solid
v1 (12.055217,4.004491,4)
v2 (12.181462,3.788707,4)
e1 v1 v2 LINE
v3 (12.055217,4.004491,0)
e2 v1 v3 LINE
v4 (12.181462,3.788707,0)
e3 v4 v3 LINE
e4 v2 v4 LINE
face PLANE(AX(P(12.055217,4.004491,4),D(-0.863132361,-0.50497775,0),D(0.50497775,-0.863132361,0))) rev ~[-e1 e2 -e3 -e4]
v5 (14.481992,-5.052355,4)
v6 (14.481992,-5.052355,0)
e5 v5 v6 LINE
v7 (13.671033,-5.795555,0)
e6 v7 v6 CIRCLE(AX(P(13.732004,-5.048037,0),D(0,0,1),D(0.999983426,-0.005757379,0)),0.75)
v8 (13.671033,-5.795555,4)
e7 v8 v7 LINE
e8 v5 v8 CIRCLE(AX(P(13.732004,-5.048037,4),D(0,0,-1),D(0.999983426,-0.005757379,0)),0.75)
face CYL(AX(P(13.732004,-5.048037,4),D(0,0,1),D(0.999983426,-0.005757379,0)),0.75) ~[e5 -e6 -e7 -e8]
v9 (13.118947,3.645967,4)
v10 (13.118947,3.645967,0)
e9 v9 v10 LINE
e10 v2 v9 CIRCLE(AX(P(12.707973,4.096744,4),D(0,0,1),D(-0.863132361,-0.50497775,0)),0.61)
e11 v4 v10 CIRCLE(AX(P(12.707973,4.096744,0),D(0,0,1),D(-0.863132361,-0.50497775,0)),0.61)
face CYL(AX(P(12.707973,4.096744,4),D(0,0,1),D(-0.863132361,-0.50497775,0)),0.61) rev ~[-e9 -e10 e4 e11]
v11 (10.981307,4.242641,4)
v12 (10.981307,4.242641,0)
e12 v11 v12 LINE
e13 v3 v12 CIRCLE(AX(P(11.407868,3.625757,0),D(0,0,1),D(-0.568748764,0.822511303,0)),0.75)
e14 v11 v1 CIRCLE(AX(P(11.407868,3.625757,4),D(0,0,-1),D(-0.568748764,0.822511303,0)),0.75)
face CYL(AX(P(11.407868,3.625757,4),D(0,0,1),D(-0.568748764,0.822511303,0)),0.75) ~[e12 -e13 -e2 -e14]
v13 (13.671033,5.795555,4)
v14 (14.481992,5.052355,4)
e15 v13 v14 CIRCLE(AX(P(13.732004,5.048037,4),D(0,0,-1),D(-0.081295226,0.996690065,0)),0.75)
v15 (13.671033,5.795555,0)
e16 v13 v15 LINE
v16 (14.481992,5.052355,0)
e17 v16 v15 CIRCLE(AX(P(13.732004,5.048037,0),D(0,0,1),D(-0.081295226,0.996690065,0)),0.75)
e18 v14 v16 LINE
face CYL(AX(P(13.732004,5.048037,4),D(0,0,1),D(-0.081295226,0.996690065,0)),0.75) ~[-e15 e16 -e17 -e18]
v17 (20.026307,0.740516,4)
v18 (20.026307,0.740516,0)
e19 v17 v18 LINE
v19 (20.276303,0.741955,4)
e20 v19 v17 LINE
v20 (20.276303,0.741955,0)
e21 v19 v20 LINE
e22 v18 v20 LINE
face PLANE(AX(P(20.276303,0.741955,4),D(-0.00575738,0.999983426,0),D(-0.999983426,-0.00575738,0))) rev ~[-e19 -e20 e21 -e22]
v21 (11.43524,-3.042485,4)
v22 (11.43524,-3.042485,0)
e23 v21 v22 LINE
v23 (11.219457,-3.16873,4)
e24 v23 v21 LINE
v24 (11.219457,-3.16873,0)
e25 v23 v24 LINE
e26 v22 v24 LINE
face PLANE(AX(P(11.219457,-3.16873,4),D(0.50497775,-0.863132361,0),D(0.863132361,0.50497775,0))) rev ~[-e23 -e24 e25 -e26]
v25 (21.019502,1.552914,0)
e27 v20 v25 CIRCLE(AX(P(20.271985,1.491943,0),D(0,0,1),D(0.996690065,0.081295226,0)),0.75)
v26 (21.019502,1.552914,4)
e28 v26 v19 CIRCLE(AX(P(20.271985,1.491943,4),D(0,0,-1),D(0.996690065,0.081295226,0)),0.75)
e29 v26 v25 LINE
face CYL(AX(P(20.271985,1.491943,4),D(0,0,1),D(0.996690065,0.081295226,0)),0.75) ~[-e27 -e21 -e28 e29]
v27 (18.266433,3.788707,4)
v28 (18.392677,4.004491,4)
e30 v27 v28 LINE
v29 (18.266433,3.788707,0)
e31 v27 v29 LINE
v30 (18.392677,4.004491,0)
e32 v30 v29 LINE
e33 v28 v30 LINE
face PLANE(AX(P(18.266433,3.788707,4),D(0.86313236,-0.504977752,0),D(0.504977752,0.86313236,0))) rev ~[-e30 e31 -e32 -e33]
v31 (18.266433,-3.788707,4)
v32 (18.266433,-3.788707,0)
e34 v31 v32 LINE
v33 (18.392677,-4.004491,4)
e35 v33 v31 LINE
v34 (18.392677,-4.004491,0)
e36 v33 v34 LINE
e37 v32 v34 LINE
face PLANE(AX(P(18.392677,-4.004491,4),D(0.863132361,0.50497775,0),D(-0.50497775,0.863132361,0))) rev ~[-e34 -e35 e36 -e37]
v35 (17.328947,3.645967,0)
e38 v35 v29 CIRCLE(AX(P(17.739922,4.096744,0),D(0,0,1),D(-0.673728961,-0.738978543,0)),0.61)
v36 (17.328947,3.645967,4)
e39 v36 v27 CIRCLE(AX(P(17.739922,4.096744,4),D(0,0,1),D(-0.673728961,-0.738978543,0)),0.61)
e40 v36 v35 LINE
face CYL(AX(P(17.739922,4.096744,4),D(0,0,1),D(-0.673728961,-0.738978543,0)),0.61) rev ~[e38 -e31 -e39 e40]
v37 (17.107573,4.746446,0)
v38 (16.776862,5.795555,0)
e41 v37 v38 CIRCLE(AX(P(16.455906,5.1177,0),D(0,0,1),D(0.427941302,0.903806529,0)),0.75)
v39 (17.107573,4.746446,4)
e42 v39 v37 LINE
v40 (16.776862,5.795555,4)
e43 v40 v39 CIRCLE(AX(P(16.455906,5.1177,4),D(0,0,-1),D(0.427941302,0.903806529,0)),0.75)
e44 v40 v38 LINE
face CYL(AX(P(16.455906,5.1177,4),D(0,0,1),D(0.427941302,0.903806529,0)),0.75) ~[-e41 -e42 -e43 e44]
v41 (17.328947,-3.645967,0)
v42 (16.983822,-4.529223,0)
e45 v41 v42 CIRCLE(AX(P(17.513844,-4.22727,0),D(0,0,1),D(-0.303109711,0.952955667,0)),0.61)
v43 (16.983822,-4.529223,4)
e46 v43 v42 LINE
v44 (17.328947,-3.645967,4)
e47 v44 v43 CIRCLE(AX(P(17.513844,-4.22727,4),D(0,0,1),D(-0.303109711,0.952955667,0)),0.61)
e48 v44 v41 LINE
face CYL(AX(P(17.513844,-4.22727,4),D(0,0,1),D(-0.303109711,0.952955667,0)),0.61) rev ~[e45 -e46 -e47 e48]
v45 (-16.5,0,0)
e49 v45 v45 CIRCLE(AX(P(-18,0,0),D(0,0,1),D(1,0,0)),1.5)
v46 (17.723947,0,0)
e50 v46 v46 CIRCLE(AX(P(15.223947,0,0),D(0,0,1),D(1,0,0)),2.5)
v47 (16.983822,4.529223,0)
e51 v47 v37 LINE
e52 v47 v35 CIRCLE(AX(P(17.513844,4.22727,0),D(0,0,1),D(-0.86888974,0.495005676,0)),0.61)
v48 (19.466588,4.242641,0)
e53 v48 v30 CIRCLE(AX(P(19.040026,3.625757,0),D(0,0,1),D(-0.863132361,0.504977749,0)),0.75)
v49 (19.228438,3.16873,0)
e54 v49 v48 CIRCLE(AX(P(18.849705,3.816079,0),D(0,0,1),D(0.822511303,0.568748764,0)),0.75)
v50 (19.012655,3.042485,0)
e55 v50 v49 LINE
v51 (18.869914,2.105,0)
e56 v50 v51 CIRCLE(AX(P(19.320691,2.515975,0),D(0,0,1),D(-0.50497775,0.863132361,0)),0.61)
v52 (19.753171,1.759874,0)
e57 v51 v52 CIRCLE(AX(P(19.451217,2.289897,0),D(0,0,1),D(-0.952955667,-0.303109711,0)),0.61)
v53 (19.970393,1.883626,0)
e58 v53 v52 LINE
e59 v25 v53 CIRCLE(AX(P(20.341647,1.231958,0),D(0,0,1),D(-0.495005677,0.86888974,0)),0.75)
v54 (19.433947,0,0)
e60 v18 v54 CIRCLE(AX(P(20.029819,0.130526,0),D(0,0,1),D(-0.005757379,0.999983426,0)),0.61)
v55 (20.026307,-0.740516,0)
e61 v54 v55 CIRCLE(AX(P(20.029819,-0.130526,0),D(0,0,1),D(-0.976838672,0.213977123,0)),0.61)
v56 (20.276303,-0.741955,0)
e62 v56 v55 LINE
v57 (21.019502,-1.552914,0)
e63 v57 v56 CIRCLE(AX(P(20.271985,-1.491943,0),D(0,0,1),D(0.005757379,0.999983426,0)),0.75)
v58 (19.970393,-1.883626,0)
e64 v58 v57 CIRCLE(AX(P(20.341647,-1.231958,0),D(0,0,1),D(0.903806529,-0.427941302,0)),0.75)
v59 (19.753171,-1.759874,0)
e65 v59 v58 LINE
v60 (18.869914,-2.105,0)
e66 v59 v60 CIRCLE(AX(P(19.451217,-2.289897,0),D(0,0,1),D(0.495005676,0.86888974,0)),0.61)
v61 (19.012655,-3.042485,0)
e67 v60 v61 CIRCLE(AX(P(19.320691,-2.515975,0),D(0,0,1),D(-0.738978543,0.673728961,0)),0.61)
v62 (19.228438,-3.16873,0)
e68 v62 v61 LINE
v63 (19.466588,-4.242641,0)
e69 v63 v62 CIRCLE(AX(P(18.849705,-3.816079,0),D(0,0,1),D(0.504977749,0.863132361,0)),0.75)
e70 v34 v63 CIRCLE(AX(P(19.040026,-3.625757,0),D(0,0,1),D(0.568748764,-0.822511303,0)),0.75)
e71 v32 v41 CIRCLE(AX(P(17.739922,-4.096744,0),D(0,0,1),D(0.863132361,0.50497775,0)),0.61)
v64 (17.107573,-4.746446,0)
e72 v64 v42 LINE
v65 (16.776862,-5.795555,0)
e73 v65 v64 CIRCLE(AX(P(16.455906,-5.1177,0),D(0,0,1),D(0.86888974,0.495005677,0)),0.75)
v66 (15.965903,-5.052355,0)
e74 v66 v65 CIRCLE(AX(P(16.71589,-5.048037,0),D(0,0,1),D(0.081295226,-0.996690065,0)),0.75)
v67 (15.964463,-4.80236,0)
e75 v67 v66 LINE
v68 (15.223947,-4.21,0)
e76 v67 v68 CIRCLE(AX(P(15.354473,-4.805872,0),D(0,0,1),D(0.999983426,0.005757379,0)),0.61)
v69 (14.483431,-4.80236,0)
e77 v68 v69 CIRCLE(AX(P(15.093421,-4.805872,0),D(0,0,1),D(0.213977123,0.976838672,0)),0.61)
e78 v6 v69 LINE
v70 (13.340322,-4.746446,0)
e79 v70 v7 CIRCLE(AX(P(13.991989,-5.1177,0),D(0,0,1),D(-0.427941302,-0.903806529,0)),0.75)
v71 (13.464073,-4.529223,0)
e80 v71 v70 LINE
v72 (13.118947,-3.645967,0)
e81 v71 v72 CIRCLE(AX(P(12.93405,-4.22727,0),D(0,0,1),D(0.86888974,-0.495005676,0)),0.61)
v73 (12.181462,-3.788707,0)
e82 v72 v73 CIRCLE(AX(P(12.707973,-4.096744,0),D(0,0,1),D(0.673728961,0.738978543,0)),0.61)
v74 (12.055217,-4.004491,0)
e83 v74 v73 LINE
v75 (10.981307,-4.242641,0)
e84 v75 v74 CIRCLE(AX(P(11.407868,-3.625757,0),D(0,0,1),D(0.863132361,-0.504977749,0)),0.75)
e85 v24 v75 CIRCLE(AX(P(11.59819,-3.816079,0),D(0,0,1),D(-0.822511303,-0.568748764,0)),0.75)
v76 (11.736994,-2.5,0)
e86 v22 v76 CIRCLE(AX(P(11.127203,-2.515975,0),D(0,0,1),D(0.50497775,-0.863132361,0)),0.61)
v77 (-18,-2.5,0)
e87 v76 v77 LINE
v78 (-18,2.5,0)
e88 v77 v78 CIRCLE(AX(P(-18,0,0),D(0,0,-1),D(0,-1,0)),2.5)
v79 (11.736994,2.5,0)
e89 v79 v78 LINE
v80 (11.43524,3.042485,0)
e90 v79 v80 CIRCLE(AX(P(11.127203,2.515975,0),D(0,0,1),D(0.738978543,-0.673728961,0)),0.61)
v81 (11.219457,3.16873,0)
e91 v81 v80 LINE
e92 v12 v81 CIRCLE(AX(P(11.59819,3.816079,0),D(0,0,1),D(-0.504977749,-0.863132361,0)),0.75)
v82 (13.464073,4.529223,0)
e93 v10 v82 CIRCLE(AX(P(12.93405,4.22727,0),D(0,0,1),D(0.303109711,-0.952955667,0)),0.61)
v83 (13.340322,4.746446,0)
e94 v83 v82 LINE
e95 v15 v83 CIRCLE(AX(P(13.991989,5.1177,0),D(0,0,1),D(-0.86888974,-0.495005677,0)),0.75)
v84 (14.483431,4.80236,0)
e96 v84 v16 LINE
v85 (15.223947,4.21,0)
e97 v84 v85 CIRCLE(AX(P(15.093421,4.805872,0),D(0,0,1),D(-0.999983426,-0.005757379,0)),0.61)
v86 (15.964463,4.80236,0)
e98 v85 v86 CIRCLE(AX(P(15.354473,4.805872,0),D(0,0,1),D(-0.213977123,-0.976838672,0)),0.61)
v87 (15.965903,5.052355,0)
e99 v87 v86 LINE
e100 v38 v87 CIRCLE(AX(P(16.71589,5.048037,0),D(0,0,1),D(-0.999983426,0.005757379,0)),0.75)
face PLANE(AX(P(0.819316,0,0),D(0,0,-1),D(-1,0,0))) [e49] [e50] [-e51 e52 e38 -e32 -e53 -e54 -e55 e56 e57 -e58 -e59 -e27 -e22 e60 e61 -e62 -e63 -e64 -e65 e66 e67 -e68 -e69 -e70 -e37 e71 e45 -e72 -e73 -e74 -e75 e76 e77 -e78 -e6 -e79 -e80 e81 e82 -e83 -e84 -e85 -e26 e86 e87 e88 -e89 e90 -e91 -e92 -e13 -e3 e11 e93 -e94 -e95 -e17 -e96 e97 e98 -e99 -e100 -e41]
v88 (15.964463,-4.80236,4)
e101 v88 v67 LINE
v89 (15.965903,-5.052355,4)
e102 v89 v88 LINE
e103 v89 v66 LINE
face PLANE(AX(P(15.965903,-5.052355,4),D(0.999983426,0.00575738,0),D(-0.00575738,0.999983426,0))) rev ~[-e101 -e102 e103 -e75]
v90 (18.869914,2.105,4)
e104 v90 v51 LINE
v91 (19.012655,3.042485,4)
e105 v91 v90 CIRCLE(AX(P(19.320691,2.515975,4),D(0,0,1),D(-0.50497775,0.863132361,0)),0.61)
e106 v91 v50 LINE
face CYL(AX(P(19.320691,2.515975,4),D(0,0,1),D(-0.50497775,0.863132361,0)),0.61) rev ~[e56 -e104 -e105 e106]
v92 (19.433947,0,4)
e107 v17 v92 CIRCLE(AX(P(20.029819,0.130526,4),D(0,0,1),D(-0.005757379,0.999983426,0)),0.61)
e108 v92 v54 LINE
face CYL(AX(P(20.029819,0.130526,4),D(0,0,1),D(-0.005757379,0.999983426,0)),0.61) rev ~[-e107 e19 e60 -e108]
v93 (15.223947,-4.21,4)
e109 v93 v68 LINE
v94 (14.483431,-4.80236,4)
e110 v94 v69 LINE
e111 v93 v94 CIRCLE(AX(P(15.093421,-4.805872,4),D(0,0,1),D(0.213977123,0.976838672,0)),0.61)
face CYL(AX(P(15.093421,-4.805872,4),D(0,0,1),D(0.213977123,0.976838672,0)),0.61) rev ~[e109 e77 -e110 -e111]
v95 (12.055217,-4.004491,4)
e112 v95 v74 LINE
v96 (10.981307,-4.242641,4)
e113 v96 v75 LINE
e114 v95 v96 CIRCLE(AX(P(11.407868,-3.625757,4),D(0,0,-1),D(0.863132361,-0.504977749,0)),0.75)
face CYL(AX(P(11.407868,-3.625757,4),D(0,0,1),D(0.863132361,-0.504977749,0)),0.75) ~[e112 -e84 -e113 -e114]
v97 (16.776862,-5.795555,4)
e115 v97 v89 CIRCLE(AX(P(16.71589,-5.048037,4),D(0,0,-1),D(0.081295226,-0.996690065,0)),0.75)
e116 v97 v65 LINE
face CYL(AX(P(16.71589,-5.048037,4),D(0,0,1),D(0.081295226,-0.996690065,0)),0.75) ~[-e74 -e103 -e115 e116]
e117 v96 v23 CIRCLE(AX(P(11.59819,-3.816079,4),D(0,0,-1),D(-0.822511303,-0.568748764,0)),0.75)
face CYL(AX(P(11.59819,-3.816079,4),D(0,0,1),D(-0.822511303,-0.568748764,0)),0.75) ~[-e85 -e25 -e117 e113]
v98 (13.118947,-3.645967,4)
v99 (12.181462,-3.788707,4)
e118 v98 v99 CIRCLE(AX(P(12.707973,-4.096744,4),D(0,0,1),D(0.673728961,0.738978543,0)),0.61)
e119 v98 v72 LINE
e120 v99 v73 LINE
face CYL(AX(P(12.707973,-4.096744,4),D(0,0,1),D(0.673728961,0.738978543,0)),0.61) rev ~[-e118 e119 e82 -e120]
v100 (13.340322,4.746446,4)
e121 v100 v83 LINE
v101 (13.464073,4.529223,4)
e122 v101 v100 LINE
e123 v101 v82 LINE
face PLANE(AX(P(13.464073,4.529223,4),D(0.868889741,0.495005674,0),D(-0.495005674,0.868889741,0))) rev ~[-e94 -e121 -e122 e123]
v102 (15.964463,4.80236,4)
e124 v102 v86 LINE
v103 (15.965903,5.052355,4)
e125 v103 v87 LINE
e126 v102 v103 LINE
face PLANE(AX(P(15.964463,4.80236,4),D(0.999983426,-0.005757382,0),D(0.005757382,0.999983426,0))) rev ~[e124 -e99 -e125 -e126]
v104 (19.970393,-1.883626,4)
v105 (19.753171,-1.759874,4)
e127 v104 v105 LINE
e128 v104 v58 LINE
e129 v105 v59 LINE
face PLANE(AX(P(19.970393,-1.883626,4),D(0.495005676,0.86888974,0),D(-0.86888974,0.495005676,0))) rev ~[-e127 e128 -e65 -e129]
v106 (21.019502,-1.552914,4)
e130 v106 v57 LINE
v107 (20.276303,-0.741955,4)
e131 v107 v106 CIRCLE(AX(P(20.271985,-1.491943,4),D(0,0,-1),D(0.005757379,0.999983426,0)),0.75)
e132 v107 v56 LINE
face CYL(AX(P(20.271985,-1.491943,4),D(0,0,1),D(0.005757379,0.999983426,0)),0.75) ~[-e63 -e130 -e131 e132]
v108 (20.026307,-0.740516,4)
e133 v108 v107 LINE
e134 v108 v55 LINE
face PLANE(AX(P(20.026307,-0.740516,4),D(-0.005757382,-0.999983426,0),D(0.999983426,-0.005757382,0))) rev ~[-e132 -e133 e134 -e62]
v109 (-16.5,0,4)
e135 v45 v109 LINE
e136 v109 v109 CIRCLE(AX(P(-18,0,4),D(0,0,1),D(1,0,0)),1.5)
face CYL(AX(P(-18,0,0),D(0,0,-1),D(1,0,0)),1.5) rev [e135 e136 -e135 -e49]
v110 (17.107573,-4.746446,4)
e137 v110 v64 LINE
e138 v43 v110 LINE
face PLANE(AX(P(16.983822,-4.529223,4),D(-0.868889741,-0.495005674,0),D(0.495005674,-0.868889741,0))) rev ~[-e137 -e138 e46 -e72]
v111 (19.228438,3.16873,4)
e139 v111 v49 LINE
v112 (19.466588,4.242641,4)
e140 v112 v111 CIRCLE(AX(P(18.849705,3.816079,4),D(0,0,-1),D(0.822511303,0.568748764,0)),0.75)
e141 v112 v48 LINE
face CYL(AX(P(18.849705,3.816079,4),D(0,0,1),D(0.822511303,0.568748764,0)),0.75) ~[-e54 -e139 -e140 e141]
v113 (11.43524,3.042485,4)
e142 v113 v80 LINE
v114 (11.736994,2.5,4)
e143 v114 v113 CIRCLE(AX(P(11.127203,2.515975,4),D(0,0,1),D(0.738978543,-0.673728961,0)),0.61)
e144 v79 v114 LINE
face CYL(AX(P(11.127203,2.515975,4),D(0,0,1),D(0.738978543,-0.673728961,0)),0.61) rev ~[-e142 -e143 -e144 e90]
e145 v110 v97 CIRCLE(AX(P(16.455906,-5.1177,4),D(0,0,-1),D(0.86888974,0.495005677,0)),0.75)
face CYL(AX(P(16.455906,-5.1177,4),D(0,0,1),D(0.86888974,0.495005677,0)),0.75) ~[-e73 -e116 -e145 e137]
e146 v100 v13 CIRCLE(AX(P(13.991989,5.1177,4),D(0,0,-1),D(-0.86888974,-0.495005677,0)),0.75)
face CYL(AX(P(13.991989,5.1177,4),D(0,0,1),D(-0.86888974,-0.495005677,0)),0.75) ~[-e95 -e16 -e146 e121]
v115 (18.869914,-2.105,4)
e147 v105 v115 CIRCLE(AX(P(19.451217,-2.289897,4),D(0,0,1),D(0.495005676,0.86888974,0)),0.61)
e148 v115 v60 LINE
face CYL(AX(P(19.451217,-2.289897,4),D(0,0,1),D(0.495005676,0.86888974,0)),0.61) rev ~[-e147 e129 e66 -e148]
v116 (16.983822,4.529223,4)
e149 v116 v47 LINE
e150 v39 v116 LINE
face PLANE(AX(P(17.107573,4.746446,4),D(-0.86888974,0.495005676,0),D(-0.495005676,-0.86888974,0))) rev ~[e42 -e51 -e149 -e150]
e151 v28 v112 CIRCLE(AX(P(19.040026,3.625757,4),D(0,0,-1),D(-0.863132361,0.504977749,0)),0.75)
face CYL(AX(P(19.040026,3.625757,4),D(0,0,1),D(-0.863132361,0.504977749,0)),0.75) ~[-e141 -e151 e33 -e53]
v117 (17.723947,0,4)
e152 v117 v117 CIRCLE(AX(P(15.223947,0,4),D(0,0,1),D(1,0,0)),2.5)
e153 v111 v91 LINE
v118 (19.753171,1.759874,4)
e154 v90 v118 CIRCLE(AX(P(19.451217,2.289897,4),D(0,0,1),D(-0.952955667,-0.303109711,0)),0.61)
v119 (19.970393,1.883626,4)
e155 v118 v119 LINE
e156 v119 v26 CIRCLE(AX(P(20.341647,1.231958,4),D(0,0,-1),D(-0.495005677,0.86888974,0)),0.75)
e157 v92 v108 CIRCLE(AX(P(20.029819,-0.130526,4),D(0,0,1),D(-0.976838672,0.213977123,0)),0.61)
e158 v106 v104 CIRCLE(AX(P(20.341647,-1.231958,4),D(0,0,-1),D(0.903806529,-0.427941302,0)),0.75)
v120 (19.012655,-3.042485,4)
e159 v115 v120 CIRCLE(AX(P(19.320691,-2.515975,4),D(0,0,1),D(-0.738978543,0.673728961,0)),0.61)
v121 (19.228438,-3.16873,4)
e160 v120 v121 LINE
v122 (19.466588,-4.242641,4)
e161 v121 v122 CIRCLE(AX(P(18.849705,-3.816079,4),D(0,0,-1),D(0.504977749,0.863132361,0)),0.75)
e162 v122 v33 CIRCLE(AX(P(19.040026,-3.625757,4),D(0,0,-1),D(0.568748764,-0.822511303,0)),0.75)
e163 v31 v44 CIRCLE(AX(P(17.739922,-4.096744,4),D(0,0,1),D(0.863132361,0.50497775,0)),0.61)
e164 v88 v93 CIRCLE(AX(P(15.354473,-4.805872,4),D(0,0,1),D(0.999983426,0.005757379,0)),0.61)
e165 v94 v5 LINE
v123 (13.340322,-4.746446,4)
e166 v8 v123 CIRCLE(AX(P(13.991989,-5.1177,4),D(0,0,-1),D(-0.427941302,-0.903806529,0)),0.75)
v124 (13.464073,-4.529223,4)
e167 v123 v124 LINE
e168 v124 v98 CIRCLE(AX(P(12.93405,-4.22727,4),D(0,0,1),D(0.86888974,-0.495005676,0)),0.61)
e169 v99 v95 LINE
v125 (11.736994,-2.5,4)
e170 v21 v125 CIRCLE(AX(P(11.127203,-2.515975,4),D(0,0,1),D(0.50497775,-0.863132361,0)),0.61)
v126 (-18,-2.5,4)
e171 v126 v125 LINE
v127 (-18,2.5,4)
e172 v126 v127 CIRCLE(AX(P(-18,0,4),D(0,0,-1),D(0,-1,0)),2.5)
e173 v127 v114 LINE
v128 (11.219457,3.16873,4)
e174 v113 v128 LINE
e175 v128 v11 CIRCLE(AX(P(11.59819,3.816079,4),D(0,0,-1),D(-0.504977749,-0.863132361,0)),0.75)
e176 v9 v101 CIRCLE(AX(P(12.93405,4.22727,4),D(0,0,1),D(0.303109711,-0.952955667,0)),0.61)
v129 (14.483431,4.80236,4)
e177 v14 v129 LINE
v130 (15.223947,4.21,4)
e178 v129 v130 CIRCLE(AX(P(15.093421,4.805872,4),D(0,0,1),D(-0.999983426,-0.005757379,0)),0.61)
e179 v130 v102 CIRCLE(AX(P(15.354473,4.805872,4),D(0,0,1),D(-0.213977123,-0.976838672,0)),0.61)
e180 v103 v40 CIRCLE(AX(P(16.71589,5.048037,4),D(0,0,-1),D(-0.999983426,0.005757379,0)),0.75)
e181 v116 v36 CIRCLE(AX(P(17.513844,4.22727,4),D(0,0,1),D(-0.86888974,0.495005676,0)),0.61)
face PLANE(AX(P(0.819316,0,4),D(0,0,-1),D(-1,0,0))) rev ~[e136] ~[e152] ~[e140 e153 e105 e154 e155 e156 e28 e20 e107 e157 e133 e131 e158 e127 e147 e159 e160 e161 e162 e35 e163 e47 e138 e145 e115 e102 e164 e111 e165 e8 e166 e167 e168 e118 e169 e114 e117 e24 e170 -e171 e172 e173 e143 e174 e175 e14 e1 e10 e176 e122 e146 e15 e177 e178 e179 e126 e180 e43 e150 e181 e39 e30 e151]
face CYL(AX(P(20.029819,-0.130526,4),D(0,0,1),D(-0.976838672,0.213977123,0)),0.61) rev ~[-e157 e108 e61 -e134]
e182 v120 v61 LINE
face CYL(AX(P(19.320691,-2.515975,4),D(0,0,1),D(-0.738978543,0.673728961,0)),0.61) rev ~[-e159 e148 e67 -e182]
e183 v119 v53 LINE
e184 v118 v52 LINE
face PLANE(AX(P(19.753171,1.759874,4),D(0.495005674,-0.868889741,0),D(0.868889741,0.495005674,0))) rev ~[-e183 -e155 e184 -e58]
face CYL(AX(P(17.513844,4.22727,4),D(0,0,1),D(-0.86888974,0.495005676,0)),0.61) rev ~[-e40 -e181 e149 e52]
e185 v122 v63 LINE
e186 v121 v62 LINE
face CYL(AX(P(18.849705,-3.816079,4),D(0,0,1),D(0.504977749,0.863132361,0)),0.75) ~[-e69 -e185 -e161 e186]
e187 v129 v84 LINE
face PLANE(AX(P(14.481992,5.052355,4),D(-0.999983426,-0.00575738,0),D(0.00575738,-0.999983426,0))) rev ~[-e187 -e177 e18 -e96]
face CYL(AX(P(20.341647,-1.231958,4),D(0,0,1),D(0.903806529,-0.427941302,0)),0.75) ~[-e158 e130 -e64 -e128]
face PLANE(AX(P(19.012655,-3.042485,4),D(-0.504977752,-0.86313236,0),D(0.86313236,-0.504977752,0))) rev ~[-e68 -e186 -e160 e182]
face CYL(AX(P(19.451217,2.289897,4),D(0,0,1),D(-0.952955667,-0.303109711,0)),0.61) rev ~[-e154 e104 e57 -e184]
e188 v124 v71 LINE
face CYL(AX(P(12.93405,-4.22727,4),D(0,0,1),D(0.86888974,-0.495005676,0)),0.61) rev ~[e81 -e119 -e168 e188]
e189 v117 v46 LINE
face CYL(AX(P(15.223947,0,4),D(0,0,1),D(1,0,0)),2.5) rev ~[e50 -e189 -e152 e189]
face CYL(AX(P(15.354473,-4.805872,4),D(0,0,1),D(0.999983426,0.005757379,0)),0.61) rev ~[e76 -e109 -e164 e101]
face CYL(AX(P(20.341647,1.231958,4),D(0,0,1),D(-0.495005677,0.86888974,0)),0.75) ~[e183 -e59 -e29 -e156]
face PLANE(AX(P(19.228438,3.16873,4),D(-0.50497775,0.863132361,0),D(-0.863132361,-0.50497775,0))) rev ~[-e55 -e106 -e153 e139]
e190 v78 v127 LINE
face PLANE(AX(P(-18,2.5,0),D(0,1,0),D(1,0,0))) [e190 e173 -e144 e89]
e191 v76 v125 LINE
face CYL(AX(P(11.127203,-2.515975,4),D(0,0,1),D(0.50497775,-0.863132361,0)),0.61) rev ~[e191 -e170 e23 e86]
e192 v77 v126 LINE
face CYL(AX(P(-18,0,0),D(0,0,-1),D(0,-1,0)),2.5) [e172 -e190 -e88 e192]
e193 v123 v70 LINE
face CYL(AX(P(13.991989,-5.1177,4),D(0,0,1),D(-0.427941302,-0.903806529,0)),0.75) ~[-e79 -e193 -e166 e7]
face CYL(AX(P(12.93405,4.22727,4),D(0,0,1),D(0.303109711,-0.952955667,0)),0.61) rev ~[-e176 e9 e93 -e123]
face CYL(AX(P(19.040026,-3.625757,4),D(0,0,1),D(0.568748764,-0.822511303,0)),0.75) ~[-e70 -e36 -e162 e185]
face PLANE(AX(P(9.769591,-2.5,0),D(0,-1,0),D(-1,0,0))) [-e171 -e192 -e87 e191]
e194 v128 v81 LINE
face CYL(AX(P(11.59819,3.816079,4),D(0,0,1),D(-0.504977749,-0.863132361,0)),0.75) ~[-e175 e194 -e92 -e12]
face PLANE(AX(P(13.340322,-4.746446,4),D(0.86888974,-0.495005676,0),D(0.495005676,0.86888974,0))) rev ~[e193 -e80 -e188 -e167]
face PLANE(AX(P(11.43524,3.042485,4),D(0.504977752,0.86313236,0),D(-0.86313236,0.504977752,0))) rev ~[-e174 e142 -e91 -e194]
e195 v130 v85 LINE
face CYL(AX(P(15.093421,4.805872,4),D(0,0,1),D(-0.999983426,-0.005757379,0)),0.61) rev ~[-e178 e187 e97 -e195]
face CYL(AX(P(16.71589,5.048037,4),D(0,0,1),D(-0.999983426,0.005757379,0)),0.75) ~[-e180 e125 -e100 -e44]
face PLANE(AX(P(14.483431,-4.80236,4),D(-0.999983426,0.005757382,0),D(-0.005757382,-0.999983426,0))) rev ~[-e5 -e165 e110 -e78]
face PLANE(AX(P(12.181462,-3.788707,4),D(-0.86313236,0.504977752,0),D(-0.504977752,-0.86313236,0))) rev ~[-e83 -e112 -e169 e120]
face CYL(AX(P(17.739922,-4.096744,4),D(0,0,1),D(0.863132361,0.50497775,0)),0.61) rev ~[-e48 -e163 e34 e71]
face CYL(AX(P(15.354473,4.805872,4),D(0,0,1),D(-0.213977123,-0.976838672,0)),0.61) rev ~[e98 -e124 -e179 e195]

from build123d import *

# Parameters (mm, degrees)
SKETCH1_R           = 1.5
BOSS_EXTRUDE1_DEPTH = 4
CUT_EXTRUDE1_DEPTH  = 23.415528994
CIRPATTERN1_COUNT   = 12
SKETCH3_W           = 11.336678395
SKETCH3_H           = 5
BOSS_EXTRUDE2_DEPTH = 4
SKETCH4_R           = 2.5
CUT_EXTRUDE2_DEPTH  = 23.170725743


with BuildPart() as part:
    # Sketch1 → Boss-Extrude1 (new body)
    with BuildSketch(Plane.XY):
        with BuildLine():
            Line((-18, 2.5), (9.769591268, 2.5))
            ThreePointArc((9.769591268, 2.5), (21.223947325, 0), (9.769591268, -2.5))
            Line((9.769591268, -2.5), (-18, -2.5))
            ThreePointArc((-18, -2.5), (-20.5, 0), (-18, 2.5))
        make_face()
        with Locations((-18, 0)):
            Circle(SKETCH1_R, mode=Mode.SUBTRACT)
    extrude(amount=BOSS_EXTRUDE1_DEPTH)

    # Sketch2 → Cut-Extrude1 (cut, through all)
    with BuildSketch(Plane.XY.offset(4)):
        with BuildLine():
            Line((17.107572926, 4.746445804), (16.983821507, 4.529223369))
            ThreePointArc((16.983821507, 4.529223369), (16.945677893, 4.005263167), (17.328947325, 3.64596695))
            ThreePointArc((17.328947325, 3.64596695), (17.831741692, 3.493693994), (18.266432731, 3.788707433))
            Line((18.266432731, 3.788707433), (18.392677169, 4.004490523))
            ThreePointArc((18.392677169, 4.004490523), (18.877651327, 4.357969149), (19.466588012, 4.242640687))
            ThreePointArc((19.466588012, 4.242640687), (18.501167967, 5.676312659), (16.776861596, 5.795554958))
            ThreePointArc((16.776861596, 5.795554958), (17.171207316, 5.343185058), (17.107572926, 4.746445804))
        make_face()
    cut_extrude1 = extrude(amount=-CUT_EXTRUDE1_DEPTH, mode=Mode.SUBTRACT)

    # CirPattern1: Cut-Extrude1 ×12 about axis
    cirpattern1_axis = Axis((15.223947325, 0, 0), (0, 0, 1))
    for i in range(1, CIRPATTERN1_COUNT):
        add(cut_extrude1.rotate(cirpattern1_axis, i * 360 / CIRPATTERN1_COUNT), mode=Mode.SUBTRACT)

    # Sketch3 → Boss-Extrude2 (add)
    with BuildSketch(Plane.XY.offset(4)):
        with Locations((11.656973093, 0)):
            Rectangle(SKETCH3_W, SKETCH3_H)
    extrude(amount=-BOSS_EXTRUDE2_DEPTH)

    # Sketch4 → Cut-Extrude2 (cut, through all)
    with BuildSketch(Plane.XY.offset(4)):
        with Locations((15.223947325, 0)):
            Circle(SKETCH4_R)
    extrude(amount=-CUT_EXTRUDE2_DEPTH, mode=Mode.SUBTRACT)


solid = part.part
